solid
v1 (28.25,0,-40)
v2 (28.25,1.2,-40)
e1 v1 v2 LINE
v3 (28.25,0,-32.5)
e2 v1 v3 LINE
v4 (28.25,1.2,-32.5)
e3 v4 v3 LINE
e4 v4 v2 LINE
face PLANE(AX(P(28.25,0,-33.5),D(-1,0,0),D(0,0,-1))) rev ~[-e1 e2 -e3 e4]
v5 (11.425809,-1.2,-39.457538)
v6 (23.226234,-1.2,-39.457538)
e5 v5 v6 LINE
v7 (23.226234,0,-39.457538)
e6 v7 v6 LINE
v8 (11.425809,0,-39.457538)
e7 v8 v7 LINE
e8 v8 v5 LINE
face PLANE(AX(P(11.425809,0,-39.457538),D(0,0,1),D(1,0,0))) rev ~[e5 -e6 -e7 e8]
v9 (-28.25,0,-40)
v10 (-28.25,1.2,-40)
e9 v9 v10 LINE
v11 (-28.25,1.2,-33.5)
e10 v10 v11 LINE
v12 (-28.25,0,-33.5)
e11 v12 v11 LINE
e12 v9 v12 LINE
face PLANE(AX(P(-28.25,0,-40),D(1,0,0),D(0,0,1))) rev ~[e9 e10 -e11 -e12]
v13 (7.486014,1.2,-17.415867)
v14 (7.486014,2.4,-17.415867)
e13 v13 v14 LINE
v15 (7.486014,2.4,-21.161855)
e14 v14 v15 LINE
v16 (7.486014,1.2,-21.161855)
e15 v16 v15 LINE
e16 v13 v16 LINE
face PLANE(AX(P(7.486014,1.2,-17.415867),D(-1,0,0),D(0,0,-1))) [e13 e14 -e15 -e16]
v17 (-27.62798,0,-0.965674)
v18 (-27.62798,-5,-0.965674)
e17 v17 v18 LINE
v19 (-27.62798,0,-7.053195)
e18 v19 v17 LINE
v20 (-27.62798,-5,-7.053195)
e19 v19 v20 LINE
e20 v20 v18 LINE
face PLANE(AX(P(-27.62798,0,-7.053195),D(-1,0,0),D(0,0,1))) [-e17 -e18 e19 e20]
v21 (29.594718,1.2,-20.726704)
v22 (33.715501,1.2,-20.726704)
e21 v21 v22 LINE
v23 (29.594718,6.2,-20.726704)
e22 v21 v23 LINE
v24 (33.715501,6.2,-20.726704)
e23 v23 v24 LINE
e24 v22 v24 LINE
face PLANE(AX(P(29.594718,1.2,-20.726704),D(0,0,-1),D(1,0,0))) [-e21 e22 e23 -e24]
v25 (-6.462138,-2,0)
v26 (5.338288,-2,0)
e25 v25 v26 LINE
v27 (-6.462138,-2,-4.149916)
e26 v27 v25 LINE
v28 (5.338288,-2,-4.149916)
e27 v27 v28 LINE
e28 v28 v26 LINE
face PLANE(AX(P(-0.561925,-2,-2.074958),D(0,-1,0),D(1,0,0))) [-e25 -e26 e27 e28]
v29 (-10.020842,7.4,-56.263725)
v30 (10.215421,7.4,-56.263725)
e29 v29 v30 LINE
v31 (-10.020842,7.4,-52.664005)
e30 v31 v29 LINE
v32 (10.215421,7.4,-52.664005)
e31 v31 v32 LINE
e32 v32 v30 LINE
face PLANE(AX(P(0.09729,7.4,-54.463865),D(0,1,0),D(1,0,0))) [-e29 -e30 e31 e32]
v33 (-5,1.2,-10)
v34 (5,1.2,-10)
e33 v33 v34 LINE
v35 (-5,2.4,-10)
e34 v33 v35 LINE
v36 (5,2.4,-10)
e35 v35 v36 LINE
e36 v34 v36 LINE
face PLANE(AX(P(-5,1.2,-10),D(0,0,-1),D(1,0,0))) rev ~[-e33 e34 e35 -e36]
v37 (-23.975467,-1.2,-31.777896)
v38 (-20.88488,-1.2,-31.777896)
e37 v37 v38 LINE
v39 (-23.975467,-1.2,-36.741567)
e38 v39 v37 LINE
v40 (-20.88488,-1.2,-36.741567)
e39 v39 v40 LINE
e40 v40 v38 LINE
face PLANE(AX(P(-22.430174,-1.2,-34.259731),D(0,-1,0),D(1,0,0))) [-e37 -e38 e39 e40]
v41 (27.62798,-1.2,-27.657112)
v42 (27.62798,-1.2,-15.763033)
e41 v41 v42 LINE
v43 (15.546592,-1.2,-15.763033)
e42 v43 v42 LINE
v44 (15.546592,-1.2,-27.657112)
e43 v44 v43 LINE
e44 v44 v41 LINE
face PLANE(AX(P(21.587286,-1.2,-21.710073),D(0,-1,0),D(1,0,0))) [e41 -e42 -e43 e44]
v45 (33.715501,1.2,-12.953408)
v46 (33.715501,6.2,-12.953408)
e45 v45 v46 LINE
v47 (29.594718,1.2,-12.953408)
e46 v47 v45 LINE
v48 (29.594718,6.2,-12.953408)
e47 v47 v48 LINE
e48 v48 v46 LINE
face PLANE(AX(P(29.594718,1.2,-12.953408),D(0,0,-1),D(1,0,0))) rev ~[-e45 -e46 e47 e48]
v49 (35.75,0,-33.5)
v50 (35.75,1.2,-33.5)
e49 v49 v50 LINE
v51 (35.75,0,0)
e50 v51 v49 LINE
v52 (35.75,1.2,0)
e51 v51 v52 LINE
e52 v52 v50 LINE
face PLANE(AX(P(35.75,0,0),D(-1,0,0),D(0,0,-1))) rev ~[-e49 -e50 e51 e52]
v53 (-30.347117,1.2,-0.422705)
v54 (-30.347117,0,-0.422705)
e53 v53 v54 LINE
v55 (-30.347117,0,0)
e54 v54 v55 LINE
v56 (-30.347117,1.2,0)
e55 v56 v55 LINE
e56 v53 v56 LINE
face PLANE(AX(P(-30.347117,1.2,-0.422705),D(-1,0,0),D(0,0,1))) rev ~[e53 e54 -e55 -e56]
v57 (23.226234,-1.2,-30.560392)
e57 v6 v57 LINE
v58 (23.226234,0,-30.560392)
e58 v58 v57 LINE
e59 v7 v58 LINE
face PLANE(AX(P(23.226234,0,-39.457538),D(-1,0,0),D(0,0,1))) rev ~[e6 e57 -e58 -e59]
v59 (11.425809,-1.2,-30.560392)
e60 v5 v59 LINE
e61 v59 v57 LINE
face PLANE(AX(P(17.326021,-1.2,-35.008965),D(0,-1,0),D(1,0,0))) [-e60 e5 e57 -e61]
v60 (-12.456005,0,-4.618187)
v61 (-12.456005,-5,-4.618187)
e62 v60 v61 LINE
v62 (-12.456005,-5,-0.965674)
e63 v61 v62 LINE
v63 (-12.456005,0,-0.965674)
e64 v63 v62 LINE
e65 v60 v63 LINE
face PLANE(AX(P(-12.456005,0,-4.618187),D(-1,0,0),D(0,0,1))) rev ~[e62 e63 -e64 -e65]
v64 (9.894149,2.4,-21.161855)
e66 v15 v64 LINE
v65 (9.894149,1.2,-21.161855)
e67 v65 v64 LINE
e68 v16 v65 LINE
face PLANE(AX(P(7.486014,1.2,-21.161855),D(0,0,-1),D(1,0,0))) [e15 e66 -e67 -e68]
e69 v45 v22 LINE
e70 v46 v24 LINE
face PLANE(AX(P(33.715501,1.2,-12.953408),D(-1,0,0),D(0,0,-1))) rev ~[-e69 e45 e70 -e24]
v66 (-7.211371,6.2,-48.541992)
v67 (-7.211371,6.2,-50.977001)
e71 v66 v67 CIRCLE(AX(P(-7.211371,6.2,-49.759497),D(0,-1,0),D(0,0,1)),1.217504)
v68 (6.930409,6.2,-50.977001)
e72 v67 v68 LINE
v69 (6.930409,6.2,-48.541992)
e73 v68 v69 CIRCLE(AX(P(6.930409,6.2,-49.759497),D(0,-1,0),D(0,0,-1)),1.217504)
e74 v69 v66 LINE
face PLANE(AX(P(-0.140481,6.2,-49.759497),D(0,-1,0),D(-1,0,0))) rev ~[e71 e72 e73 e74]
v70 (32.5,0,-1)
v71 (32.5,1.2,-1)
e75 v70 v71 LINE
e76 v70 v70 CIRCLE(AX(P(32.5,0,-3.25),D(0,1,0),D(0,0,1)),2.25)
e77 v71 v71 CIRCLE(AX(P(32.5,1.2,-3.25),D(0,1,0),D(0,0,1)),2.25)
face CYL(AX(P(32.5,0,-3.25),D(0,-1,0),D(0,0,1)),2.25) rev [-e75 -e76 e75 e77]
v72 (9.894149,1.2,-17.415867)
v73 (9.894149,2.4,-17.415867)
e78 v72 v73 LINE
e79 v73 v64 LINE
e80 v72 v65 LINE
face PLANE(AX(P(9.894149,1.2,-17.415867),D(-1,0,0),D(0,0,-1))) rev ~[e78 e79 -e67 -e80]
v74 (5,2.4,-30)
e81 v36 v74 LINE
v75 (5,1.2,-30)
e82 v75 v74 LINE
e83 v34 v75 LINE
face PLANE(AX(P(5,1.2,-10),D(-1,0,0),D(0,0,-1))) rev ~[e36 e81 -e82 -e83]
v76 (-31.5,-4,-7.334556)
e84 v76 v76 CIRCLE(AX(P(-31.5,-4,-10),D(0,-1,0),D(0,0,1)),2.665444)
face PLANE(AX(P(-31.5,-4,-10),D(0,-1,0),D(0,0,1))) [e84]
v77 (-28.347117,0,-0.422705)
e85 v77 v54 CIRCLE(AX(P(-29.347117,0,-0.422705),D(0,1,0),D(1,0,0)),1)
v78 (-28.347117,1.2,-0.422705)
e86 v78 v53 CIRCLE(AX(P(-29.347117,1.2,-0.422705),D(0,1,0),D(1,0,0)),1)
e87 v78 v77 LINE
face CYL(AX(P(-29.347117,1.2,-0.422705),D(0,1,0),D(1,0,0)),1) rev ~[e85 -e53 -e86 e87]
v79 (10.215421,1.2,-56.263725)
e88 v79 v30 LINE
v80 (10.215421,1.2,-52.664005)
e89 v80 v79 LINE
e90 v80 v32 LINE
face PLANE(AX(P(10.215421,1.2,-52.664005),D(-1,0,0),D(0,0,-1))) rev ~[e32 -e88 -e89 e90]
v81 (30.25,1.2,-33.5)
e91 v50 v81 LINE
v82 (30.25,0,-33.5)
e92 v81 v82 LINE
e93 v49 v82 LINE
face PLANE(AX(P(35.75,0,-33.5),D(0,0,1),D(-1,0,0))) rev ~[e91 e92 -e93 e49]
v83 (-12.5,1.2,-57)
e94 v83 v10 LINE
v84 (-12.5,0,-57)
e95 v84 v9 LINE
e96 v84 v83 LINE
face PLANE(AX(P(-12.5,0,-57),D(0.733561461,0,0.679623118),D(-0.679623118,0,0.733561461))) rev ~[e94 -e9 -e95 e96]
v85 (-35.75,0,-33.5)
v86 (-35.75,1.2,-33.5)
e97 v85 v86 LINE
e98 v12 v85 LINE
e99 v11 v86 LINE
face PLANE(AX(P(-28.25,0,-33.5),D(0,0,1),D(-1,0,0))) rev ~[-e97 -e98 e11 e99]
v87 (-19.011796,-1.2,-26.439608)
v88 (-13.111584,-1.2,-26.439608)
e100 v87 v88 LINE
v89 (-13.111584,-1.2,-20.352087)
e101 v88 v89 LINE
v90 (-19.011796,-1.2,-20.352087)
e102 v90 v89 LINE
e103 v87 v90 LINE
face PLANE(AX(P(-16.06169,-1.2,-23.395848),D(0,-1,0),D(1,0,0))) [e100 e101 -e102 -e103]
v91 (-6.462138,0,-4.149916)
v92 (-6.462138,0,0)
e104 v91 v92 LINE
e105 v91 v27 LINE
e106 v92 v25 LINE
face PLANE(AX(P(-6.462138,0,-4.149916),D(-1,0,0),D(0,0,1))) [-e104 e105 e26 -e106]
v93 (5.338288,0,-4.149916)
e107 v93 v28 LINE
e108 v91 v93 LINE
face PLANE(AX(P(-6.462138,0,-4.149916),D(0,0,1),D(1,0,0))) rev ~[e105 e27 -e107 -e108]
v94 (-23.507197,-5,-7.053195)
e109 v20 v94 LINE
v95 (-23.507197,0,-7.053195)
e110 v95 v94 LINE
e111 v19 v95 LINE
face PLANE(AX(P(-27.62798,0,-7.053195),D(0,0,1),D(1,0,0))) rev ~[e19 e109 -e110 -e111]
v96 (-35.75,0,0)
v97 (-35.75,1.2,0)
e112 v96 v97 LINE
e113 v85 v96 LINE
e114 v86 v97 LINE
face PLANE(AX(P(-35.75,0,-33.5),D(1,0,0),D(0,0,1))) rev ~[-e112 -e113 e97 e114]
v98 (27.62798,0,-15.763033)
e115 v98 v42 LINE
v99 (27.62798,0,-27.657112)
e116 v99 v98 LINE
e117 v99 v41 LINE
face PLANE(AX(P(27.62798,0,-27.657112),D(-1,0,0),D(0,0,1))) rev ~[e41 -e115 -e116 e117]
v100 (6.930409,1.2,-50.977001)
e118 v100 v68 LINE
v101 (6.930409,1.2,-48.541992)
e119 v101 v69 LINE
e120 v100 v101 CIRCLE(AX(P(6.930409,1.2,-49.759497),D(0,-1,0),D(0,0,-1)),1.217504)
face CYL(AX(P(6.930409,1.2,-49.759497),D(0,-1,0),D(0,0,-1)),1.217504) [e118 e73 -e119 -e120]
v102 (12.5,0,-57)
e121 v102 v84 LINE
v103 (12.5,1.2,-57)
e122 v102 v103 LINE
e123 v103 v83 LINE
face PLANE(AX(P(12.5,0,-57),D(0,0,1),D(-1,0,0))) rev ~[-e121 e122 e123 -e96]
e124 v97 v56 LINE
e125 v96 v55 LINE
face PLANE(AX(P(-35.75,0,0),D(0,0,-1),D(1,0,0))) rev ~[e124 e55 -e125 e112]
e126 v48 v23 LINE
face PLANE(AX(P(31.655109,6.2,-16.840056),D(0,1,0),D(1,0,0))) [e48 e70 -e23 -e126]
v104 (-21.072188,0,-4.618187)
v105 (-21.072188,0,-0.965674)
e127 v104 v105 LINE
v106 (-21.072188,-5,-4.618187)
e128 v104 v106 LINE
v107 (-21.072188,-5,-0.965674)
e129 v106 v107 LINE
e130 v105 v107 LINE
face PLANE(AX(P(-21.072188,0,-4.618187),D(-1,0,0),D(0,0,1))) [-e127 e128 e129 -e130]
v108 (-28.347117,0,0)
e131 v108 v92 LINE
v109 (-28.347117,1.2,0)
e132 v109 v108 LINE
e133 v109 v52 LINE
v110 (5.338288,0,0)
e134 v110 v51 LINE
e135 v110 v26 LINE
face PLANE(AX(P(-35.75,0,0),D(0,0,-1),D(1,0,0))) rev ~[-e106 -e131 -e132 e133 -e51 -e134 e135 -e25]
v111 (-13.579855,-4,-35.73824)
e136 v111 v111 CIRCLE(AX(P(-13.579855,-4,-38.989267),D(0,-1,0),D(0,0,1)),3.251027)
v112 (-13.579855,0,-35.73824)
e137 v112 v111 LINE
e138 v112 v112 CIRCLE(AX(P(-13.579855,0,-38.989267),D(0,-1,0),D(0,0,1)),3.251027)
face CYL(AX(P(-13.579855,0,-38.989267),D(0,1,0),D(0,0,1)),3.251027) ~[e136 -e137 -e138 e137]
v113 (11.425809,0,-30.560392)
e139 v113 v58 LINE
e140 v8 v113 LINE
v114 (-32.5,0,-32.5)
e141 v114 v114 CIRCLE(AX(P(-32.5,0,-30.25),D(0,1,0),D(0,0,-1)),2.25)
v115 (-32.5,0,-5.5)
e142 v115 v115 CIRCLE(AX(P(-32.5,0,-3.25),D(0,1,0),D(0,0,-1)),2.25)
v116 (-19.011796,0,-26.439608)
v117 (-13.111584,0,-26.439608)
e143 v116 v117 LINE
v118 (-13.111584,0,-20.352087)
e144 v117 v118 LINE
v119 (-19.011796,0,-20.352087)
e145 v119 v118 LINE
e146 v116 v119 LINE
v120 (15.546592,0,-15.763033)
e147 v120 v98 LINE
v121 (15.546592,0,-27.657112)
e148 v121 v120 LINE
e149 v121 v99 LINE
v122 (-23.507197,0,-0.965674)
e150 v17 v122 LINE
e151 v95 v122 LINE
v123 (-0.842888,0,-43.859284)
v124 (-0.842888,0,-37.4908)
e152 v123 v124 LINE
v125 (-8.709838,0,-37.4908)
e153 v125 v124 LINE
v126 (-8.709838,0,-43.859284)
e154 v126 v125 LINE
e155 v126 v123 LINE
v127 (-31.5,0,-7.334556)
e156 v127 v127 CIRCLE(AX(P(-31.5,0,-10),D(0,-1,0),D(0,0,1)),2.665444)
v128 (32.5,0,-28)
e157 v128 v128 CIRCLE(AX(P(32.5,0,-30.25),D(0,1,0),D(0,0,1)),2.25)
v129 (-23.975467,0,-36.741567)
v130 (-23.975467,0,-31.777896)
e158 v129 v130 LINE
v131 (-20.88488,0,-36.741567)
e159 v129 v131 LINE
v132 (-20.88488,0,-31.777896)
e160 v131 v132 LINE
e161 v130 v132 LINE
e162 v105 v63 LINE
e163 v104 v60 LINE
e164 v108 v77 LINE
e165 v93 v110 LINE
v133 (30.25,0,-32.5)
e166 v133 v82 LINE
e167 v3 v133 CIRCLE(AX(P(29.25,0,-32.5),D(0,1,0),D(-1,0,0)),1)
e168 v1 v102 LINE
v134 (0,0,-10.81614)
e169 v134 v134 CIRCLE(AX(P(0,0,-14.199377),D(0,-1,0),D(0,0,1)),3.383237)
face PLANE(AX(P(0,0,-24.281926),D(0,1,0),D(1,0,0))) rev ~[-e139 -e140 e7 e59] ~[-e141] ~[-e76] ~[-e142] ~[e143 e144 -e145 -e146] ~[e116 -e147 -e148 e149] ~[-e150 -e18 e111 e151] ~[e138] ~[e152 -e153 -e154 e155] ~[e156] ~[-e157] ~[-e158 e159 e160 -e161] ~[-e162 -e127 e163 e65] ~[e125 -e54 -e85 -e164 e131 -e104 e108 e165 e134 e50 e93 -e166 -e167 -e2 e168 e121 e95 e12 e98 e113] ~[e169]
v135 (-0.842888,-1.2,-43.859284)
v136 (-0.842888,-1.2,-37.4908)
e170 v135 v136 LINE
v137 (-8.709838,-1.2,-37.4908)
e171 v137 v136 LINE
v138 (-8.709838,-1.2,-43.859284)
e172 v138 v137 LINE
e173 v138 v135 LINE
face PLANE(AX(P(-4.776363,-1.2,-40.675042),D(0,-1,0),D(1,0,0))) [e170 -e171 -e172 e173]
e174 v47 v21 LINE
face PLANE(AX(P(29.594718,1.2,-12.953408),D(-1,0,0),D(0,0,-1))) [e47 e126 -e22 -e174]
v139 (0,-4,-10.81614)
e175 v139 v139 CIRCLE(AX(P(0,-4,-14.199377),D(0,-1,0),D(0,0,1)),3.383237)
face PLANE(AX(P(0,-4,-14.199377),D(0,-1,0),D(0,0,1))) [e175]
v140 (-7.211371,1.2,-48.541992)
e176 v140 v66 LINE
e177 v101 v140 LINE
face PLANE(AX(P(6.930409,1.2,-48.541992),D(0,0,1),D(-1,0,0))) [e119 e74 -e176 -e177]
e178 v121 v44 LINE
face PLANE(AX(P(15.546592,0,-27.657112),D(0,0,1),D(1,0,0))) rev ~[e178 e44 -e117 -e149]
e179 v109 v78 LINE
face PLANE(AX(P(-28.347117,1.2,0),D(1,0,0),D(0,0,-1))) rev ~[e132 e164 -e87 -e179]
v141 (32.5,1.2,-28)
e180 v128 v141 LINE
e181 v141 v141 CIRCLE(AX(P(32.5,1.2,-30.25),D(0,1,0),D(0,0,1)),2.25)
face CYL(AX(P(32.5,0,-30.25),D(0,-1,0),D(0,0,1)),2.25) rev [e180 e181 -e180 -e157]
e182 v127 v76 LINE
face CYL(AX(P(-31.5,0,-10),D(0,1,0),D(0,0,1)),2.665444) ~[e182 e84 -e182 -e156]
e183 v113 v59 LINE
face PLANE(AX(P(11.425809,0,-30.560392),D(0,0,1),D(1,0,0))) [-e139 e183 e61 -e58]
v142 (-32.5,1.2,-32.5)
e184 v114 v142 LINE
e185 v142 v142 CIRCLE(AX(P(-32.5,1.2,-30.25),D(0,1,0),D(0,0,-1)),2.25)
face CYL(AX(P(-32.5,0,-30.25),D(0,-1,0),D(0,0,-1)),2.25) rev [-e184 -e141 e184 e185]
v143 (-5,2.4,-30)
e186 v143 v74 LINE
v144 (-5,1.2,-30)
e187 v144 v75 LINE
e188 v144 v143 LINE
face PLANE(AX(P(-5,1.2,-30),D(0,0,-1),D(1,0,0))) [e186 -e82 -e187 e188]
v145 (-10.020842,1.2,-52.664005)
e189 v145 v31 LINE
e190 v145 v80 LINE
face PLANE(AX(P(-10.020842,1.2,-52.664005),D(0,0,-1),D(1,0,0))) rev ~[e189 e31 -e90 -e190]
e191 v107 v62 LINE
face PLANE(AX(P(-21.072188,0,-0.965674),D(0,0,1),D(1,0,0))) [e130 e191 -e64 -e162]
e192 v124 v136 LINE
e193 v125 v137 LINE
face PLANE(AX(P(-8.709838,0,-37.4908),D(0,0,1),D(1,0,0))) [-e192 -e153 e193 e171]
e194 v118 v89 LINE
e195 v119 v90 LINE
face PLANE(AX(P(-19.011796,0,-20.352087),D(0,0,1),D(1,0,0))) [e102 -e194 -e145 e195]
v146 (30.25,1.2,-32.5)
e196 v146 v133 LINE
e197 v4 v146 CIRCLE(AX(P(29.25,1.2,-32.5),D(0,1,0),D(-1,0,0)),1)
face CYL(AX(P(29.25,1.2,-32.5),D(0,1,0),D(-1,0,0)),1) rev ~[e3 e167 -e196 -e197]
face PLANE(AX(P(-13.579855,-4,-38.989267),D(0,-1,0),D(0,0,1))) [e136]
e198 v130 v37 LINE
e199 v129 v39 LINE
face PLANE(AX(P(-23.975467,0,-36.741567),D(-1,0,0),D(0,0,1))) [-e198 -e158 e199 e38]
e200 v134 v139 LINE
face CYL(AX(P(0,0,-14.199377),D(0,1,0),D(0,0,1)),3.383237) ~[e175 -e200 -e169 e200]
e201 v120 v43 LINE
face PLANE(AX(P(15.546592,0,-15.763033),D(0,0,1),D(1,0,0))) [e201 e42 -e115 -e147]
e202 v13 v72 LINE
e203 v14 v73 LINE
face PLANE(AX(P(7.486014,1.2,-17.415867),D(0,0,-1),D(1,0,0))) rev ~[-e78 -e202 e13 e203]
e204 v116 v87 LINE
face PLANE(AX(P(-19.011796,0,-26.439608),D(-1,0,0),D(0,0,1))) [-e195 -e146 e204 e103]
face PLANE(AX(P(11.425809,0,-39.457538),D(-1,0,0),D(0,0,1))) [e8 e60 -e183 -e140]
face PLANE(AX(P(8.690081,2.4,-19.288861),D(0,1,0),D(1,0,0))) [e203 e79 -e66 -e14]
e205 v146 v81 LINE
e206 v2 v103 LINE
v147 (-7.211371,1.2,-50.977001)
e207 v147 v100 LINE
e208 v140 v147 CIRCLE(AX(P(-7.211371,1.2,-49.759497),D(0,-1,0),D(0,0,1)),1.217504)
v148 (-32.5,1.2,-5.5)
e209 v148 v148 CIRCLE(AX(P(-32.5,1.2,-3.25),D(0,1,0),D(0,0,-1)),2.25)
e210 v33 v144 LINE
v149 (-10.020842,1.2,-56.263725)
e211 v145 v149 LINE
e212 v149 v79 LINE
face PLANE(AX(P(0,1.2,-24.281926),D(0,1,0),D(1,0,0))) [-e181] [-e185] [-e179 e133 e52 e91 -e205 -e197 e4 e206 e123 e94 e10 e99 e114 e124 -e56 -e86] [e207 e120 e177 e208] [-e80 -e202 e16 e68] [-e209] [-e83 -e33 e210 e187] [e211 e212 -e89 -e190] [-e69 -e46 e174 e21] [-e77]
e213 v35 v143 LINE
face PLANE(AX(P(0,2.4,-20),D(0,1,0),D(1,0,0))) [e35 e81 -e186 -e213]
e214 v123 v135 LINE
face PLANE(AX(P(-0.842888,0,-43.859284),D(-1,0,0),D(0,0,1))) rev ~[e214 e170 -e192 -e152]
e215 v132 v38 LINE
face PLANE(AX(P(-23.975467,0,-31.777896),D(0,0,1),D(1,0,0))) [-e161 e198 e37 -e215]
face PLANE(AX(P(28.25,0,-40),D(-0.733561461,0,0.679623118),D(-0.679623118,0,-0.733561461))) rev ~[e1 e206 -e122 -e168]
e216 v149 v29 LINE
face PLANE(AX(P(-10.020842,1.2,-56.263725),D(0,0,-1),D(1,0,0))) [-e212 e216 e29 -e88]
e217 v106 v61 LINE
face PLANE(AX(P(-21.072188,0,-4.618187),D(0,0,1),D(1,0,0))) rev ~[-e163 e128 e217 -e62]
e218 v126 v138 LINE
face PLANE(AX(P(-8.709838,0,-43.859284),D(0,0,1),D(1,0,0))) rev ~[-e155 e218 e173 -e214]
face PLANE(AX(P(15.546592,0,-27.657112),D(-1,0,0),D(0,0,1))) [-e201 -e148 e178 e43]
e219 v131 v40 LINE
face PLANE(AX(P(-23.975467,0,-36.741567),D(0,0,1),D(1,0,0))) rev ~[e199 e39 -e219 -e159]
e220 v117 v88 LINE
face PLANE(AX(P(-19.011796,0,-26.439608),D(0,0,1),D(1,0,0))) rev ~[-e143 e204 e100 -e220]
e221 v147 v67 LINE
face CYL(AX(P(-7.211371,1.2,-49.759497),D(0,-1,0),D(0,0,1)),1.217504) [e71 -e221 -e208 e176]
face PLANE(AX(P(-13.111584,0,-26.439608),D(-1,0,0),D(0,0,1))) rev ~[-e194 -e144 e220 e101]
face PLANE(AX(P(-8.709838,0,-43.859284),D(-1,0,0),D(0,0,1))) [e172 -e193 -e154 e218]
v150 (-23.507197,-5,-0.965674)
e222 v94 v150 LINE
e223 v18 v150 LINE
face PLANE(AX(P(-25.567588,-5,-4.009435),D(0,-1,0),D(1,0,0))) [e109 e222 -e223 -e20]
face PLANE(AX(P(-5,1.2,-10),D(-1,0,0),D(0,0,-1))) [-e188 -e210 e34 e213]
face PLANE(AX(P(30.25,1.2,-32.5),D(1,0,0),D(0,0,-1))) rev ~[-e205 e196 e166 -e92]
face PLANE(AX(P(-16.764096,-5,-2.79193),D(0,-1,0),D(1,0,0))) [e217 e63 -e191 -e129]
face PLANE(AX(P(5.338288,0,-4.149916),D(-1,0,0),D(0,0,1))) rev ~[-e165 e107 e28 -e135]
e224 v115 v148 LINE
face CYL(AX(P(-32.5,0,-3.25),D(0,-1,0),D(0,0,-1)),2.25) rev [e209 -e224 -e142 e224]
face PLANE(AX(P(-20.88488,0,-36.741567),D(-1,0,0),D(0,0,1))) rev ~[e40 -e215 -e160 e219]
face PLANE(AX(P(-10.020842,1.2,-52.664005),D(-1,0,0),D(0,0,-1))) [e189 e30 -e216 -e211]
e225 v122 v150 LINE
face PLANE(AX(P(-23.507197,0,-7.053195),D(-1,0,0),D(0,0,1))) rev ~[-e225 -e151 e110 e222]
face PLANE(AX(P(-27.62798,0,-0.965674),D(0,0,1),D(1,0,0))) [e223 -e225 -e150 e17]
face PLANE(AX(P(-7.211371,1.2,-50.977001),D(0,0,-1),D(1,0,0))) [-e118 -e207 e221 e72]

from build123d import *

# Parameters (mm, degrees)
ESQUISSE1_R      = 2.25
EXTRUSION1_DEPTH = 1.2
EXTRUSION2_DEPTH = 1.2
ESQUISSE3_W      = 10
ESQUISSE3_H      = 20
ESQUISSE3_W_2    = 2.40813479
ESQUISSE3_H_2    = 3.745987449
EXTRUSION3_DEPTH = 1.2
ESQUISSE4_W      = 4.120783465
ESQUISSE4_H      = 7.773296082
EXTRUSION4_DEPTH = 5
ESQUISSE5_W      = 20.236263024
ESQUISSE5_H      = 3.599719865
EXTRUSION5_DEPTH = 6.2
ESQUISSE6_W      = 11.800425377
ESQUISSE6_H      = 8.897146118
ESQUISSE6_W_2    = 12.081387885
ESQUISSE6_H_2    = 11.894079546
ESQUISSE6_W_3    = 5.900212688
ESQUISSE6_H_3    = 6.087521028
ESQUISSE6_W_4    = 7.866950251
ESQUISSE6_H_4    = 6.368483537
ESQUISSE6_W_5    = 3.090587599
ESQUISSE6_H_5    = 4.963670992
EXTRUSION6_DEPTH = 1.2
ESQUISSE7_R      = 3.251027485
ESQUISSE7_R_2    = 2.665444396
ESQUISSE7_R_3    = 3.383236625
EXTRUSION7_DEPTH = 4
ESQUISSE8_W      = 11.800425376
ESQUISSE8_H      = 4.14991589
EXTRUSION8_DEPTH = 2
ESQUISSE9_W      = 4.120783464
ESQUISSE9_H      = 6.087521028
ESQUISSE9_W_2    = 8.616183609
ESQUISSE9_H_2    = 3.652512617
EXTRUSION9_DEPTH = 5


with BuildPart() as part:
    # Esquisse1 → Extrusion1 (new body)
    with BuildSketch(Plane(origin=(0, 0, 0), x_dir=(1, 0, 0), z_dir=(0, 1, 0))):
        Polygon((-35.75, 0), (35.75, 0), (35.75, 33.5), (28.25, 33.5), (28.25, 40), (12.5, 57), (-12.5, 57), (-28.25, 40), (-28.25, 33.5), (-35.75, 33.5), align=None)
        with Locations(Location((32.5, 30.25, 0), (0, 0, 270))):  # turned: the seam where the file's is
            Circle(ESQUISSE1_R, mode=Mode.SUBTRACT)
        with Locations(Location((32.5, 3.25, 0), (0, 0, 270))):  # turned: the seam where the file's is
            Circle(ESQUISSE1_R, mode=Mode.SUBTRACT)
        with Locations(Location((-32.5, 3.25, 0), (0, 0, 90))):  # turned: the seam where the file's is
            Circle(ESQUISSE1_R, mode=Mode.SUBTRACT)
        with Locations(Location((-32.5, 30.25, 0), (0, 0, 90))):  # turned: the seam where the file's is
            Circle(ESQUISSE1_R, mode=Mode.SUBTRACT)
    extrude(amount=EXTRUSION1_DEPTH)

    # Esquisse2 → Extrusion2 (cut)
    with BuildSketch(Plane(origin=(0, 1.2, 0), x_dir=(1, 0, 0), z_dir=(0, 1, 0))):
        with BuildLine():
            Line((28.25, 33.5), (28.25, 32.5))
            ThreePointArc((28.25, 32.5), (29.25, 31.5), (30.25, 32.5))
            Line((30.25, 32.5), (30.25, 33.5))
            Line((30.25, 33.5), (28.25, 33.5))
        make_face()
        with BuildLine():
            Line((-30.347117409, 0.422704879), (-30.347117409, 0))
            Line((-30.347117409, 0), (-28.347117409, 0))
            Line((-28.347117409, 0), (-28.347117409, 0.422704879))
            ThreePointArc((-28.347117409, 0.422704879), (-29.347117409, 1.422704879), (-30.347117409, 0.422704879))
        make_face()
    extrude(amount=-EXTRUSION2_DEPTH, mode=Mode.SUBTRACT)

    # Esquisse3 → Extrusion3 (add)
    with BuildSketch(Plane(origin=(0, 1.2, 0), x_dir=(1, 0, 0), z_dir=(0, 1, 0))):
        with Locations((0, 20)):
            Rectangle(ESQUISSE3_W, ESQUISSE3_H)
        with Locations((8.690081326, 19.288860946)):
            Rectangle(ESQUISSE3_W_2, ESQUISSE3_H_2)
    extrude(amount=EXTRUSION3_DEPTH)

    # Esquisse4 → Extrusion4 (add)
    with BuildSketch(Plane(origin=(0, 1.2, 0), x_dir=(1, 0, 0), z_dir=(0, 1, 0))):
        with Locations((31.655109344, 16.840055878)):
            Rectangle(ESQUISSE4_W, ESQUISSE4_H)
        with BuildLine():
            Line((-7.211371063, 50.977000717), (6.930408555, 50.977000717))
            ThreePointArc((6.930408555, 50.977000717), (8.14791276, 49.759496512), (6.930408555, 48.541992306))
            Line((6.930408555, 48.541992306), (-7.211371063, 48.541992306))
            ThreePointArc((-7.211371063, 48.541992306), (-8.428875269, 49.759496512), (-7.211371063, 50.977000717))
        make_face()
    extrude(amount=EXTRUSION4_DEPTH)

    # Esquisse5 → Extrusion5 (add)
    with BuildSketch(Plane(origin=(0, 1.2, 0), x_dir=(1, 0, 0), z_dir=(0, 1, 0))):
        with Locations((0.097289726, 54.463865055)):
            Rectangle(ESQUISSE5_W, ESQUISSE5_H)
    extrude(amount=EXTRUSION5_DEPTH)

    # Esquisse6 → Extrusion6 (add)
    with BuildSketch(Plane.XZ):
        with Locations((17.326021387, -35.008964791)):
            Rectangle(ESQUISSE6_W, ESQUISSE6_H)
        with Locations((21.587286106, -21.7100727)):
            Rectangle(ESQUISSE6_W_2, ESQUISSE6_H_2)
        with Locations((-16.061690096, -23.395847754)):
            Rectangle(ESQUISSE6_W_3, ESQUISSE6_H_3)
        with Locations((-4.776362653, -40.675042056)):
            Rectangle(ESQUISSE6_W_4, ESQUISSE6_H_4)
        with Locations((-22.430173633, -34.259731434)):
            Rectangle(ESQUISSE6_W_5, ESQUISSE6_H_5)
    extrude(amount=EXTRUSION6_DEPTH)

    # Esquisse7 → Extrusion7 (add)
    with BuildSketch(Plane.XZ):
        with Locations(Location((-13.5798546, -38.989267001, 0), (0, 0, 90))):  # turned: the seam where the file's is
            Circle(ESQUISSE7_R)
        with Locations(Location((-31.5, -10, 0), (0, 0, 90))):  # turned: the seam where the file's is
            Circle(ESQUISSE7_R_2)
        with Locations(Location((0, -14.199376853, 0), (0, 0, 90))):  # turned: the seam where the file's is
            Circle(ESQUISSE7_R_3)
    extrude(amount=EXTRUSION7_DEPTH)

    # Esquisse8 → Extrusion8 (add)
    with BuildSketch(Plane.XZ):
        with Locations((-0.561925018, -2.074957945)):
            Rectangle(ESQUISSE8_W, ESQUISSE8_H)
    extrude(amount=EXTRUSION8_DEPTH)

    # Esquisse9 → Extrusion9 (add)
    with BuildSketch(Plane.XZ):
        with Locations((-25.567588316, -4.009434635)):
            Rectangle(ESQUISSE9_W, ESQUISSE9_H)
        with Locations((-16.764096368, -2.79193043)):
            Rectangle(ESQUISSE9_W_2, ESQUISSE9_H_2)
    extrude(amount=EXTRUSION9_DEPTH)


solid = part.part
